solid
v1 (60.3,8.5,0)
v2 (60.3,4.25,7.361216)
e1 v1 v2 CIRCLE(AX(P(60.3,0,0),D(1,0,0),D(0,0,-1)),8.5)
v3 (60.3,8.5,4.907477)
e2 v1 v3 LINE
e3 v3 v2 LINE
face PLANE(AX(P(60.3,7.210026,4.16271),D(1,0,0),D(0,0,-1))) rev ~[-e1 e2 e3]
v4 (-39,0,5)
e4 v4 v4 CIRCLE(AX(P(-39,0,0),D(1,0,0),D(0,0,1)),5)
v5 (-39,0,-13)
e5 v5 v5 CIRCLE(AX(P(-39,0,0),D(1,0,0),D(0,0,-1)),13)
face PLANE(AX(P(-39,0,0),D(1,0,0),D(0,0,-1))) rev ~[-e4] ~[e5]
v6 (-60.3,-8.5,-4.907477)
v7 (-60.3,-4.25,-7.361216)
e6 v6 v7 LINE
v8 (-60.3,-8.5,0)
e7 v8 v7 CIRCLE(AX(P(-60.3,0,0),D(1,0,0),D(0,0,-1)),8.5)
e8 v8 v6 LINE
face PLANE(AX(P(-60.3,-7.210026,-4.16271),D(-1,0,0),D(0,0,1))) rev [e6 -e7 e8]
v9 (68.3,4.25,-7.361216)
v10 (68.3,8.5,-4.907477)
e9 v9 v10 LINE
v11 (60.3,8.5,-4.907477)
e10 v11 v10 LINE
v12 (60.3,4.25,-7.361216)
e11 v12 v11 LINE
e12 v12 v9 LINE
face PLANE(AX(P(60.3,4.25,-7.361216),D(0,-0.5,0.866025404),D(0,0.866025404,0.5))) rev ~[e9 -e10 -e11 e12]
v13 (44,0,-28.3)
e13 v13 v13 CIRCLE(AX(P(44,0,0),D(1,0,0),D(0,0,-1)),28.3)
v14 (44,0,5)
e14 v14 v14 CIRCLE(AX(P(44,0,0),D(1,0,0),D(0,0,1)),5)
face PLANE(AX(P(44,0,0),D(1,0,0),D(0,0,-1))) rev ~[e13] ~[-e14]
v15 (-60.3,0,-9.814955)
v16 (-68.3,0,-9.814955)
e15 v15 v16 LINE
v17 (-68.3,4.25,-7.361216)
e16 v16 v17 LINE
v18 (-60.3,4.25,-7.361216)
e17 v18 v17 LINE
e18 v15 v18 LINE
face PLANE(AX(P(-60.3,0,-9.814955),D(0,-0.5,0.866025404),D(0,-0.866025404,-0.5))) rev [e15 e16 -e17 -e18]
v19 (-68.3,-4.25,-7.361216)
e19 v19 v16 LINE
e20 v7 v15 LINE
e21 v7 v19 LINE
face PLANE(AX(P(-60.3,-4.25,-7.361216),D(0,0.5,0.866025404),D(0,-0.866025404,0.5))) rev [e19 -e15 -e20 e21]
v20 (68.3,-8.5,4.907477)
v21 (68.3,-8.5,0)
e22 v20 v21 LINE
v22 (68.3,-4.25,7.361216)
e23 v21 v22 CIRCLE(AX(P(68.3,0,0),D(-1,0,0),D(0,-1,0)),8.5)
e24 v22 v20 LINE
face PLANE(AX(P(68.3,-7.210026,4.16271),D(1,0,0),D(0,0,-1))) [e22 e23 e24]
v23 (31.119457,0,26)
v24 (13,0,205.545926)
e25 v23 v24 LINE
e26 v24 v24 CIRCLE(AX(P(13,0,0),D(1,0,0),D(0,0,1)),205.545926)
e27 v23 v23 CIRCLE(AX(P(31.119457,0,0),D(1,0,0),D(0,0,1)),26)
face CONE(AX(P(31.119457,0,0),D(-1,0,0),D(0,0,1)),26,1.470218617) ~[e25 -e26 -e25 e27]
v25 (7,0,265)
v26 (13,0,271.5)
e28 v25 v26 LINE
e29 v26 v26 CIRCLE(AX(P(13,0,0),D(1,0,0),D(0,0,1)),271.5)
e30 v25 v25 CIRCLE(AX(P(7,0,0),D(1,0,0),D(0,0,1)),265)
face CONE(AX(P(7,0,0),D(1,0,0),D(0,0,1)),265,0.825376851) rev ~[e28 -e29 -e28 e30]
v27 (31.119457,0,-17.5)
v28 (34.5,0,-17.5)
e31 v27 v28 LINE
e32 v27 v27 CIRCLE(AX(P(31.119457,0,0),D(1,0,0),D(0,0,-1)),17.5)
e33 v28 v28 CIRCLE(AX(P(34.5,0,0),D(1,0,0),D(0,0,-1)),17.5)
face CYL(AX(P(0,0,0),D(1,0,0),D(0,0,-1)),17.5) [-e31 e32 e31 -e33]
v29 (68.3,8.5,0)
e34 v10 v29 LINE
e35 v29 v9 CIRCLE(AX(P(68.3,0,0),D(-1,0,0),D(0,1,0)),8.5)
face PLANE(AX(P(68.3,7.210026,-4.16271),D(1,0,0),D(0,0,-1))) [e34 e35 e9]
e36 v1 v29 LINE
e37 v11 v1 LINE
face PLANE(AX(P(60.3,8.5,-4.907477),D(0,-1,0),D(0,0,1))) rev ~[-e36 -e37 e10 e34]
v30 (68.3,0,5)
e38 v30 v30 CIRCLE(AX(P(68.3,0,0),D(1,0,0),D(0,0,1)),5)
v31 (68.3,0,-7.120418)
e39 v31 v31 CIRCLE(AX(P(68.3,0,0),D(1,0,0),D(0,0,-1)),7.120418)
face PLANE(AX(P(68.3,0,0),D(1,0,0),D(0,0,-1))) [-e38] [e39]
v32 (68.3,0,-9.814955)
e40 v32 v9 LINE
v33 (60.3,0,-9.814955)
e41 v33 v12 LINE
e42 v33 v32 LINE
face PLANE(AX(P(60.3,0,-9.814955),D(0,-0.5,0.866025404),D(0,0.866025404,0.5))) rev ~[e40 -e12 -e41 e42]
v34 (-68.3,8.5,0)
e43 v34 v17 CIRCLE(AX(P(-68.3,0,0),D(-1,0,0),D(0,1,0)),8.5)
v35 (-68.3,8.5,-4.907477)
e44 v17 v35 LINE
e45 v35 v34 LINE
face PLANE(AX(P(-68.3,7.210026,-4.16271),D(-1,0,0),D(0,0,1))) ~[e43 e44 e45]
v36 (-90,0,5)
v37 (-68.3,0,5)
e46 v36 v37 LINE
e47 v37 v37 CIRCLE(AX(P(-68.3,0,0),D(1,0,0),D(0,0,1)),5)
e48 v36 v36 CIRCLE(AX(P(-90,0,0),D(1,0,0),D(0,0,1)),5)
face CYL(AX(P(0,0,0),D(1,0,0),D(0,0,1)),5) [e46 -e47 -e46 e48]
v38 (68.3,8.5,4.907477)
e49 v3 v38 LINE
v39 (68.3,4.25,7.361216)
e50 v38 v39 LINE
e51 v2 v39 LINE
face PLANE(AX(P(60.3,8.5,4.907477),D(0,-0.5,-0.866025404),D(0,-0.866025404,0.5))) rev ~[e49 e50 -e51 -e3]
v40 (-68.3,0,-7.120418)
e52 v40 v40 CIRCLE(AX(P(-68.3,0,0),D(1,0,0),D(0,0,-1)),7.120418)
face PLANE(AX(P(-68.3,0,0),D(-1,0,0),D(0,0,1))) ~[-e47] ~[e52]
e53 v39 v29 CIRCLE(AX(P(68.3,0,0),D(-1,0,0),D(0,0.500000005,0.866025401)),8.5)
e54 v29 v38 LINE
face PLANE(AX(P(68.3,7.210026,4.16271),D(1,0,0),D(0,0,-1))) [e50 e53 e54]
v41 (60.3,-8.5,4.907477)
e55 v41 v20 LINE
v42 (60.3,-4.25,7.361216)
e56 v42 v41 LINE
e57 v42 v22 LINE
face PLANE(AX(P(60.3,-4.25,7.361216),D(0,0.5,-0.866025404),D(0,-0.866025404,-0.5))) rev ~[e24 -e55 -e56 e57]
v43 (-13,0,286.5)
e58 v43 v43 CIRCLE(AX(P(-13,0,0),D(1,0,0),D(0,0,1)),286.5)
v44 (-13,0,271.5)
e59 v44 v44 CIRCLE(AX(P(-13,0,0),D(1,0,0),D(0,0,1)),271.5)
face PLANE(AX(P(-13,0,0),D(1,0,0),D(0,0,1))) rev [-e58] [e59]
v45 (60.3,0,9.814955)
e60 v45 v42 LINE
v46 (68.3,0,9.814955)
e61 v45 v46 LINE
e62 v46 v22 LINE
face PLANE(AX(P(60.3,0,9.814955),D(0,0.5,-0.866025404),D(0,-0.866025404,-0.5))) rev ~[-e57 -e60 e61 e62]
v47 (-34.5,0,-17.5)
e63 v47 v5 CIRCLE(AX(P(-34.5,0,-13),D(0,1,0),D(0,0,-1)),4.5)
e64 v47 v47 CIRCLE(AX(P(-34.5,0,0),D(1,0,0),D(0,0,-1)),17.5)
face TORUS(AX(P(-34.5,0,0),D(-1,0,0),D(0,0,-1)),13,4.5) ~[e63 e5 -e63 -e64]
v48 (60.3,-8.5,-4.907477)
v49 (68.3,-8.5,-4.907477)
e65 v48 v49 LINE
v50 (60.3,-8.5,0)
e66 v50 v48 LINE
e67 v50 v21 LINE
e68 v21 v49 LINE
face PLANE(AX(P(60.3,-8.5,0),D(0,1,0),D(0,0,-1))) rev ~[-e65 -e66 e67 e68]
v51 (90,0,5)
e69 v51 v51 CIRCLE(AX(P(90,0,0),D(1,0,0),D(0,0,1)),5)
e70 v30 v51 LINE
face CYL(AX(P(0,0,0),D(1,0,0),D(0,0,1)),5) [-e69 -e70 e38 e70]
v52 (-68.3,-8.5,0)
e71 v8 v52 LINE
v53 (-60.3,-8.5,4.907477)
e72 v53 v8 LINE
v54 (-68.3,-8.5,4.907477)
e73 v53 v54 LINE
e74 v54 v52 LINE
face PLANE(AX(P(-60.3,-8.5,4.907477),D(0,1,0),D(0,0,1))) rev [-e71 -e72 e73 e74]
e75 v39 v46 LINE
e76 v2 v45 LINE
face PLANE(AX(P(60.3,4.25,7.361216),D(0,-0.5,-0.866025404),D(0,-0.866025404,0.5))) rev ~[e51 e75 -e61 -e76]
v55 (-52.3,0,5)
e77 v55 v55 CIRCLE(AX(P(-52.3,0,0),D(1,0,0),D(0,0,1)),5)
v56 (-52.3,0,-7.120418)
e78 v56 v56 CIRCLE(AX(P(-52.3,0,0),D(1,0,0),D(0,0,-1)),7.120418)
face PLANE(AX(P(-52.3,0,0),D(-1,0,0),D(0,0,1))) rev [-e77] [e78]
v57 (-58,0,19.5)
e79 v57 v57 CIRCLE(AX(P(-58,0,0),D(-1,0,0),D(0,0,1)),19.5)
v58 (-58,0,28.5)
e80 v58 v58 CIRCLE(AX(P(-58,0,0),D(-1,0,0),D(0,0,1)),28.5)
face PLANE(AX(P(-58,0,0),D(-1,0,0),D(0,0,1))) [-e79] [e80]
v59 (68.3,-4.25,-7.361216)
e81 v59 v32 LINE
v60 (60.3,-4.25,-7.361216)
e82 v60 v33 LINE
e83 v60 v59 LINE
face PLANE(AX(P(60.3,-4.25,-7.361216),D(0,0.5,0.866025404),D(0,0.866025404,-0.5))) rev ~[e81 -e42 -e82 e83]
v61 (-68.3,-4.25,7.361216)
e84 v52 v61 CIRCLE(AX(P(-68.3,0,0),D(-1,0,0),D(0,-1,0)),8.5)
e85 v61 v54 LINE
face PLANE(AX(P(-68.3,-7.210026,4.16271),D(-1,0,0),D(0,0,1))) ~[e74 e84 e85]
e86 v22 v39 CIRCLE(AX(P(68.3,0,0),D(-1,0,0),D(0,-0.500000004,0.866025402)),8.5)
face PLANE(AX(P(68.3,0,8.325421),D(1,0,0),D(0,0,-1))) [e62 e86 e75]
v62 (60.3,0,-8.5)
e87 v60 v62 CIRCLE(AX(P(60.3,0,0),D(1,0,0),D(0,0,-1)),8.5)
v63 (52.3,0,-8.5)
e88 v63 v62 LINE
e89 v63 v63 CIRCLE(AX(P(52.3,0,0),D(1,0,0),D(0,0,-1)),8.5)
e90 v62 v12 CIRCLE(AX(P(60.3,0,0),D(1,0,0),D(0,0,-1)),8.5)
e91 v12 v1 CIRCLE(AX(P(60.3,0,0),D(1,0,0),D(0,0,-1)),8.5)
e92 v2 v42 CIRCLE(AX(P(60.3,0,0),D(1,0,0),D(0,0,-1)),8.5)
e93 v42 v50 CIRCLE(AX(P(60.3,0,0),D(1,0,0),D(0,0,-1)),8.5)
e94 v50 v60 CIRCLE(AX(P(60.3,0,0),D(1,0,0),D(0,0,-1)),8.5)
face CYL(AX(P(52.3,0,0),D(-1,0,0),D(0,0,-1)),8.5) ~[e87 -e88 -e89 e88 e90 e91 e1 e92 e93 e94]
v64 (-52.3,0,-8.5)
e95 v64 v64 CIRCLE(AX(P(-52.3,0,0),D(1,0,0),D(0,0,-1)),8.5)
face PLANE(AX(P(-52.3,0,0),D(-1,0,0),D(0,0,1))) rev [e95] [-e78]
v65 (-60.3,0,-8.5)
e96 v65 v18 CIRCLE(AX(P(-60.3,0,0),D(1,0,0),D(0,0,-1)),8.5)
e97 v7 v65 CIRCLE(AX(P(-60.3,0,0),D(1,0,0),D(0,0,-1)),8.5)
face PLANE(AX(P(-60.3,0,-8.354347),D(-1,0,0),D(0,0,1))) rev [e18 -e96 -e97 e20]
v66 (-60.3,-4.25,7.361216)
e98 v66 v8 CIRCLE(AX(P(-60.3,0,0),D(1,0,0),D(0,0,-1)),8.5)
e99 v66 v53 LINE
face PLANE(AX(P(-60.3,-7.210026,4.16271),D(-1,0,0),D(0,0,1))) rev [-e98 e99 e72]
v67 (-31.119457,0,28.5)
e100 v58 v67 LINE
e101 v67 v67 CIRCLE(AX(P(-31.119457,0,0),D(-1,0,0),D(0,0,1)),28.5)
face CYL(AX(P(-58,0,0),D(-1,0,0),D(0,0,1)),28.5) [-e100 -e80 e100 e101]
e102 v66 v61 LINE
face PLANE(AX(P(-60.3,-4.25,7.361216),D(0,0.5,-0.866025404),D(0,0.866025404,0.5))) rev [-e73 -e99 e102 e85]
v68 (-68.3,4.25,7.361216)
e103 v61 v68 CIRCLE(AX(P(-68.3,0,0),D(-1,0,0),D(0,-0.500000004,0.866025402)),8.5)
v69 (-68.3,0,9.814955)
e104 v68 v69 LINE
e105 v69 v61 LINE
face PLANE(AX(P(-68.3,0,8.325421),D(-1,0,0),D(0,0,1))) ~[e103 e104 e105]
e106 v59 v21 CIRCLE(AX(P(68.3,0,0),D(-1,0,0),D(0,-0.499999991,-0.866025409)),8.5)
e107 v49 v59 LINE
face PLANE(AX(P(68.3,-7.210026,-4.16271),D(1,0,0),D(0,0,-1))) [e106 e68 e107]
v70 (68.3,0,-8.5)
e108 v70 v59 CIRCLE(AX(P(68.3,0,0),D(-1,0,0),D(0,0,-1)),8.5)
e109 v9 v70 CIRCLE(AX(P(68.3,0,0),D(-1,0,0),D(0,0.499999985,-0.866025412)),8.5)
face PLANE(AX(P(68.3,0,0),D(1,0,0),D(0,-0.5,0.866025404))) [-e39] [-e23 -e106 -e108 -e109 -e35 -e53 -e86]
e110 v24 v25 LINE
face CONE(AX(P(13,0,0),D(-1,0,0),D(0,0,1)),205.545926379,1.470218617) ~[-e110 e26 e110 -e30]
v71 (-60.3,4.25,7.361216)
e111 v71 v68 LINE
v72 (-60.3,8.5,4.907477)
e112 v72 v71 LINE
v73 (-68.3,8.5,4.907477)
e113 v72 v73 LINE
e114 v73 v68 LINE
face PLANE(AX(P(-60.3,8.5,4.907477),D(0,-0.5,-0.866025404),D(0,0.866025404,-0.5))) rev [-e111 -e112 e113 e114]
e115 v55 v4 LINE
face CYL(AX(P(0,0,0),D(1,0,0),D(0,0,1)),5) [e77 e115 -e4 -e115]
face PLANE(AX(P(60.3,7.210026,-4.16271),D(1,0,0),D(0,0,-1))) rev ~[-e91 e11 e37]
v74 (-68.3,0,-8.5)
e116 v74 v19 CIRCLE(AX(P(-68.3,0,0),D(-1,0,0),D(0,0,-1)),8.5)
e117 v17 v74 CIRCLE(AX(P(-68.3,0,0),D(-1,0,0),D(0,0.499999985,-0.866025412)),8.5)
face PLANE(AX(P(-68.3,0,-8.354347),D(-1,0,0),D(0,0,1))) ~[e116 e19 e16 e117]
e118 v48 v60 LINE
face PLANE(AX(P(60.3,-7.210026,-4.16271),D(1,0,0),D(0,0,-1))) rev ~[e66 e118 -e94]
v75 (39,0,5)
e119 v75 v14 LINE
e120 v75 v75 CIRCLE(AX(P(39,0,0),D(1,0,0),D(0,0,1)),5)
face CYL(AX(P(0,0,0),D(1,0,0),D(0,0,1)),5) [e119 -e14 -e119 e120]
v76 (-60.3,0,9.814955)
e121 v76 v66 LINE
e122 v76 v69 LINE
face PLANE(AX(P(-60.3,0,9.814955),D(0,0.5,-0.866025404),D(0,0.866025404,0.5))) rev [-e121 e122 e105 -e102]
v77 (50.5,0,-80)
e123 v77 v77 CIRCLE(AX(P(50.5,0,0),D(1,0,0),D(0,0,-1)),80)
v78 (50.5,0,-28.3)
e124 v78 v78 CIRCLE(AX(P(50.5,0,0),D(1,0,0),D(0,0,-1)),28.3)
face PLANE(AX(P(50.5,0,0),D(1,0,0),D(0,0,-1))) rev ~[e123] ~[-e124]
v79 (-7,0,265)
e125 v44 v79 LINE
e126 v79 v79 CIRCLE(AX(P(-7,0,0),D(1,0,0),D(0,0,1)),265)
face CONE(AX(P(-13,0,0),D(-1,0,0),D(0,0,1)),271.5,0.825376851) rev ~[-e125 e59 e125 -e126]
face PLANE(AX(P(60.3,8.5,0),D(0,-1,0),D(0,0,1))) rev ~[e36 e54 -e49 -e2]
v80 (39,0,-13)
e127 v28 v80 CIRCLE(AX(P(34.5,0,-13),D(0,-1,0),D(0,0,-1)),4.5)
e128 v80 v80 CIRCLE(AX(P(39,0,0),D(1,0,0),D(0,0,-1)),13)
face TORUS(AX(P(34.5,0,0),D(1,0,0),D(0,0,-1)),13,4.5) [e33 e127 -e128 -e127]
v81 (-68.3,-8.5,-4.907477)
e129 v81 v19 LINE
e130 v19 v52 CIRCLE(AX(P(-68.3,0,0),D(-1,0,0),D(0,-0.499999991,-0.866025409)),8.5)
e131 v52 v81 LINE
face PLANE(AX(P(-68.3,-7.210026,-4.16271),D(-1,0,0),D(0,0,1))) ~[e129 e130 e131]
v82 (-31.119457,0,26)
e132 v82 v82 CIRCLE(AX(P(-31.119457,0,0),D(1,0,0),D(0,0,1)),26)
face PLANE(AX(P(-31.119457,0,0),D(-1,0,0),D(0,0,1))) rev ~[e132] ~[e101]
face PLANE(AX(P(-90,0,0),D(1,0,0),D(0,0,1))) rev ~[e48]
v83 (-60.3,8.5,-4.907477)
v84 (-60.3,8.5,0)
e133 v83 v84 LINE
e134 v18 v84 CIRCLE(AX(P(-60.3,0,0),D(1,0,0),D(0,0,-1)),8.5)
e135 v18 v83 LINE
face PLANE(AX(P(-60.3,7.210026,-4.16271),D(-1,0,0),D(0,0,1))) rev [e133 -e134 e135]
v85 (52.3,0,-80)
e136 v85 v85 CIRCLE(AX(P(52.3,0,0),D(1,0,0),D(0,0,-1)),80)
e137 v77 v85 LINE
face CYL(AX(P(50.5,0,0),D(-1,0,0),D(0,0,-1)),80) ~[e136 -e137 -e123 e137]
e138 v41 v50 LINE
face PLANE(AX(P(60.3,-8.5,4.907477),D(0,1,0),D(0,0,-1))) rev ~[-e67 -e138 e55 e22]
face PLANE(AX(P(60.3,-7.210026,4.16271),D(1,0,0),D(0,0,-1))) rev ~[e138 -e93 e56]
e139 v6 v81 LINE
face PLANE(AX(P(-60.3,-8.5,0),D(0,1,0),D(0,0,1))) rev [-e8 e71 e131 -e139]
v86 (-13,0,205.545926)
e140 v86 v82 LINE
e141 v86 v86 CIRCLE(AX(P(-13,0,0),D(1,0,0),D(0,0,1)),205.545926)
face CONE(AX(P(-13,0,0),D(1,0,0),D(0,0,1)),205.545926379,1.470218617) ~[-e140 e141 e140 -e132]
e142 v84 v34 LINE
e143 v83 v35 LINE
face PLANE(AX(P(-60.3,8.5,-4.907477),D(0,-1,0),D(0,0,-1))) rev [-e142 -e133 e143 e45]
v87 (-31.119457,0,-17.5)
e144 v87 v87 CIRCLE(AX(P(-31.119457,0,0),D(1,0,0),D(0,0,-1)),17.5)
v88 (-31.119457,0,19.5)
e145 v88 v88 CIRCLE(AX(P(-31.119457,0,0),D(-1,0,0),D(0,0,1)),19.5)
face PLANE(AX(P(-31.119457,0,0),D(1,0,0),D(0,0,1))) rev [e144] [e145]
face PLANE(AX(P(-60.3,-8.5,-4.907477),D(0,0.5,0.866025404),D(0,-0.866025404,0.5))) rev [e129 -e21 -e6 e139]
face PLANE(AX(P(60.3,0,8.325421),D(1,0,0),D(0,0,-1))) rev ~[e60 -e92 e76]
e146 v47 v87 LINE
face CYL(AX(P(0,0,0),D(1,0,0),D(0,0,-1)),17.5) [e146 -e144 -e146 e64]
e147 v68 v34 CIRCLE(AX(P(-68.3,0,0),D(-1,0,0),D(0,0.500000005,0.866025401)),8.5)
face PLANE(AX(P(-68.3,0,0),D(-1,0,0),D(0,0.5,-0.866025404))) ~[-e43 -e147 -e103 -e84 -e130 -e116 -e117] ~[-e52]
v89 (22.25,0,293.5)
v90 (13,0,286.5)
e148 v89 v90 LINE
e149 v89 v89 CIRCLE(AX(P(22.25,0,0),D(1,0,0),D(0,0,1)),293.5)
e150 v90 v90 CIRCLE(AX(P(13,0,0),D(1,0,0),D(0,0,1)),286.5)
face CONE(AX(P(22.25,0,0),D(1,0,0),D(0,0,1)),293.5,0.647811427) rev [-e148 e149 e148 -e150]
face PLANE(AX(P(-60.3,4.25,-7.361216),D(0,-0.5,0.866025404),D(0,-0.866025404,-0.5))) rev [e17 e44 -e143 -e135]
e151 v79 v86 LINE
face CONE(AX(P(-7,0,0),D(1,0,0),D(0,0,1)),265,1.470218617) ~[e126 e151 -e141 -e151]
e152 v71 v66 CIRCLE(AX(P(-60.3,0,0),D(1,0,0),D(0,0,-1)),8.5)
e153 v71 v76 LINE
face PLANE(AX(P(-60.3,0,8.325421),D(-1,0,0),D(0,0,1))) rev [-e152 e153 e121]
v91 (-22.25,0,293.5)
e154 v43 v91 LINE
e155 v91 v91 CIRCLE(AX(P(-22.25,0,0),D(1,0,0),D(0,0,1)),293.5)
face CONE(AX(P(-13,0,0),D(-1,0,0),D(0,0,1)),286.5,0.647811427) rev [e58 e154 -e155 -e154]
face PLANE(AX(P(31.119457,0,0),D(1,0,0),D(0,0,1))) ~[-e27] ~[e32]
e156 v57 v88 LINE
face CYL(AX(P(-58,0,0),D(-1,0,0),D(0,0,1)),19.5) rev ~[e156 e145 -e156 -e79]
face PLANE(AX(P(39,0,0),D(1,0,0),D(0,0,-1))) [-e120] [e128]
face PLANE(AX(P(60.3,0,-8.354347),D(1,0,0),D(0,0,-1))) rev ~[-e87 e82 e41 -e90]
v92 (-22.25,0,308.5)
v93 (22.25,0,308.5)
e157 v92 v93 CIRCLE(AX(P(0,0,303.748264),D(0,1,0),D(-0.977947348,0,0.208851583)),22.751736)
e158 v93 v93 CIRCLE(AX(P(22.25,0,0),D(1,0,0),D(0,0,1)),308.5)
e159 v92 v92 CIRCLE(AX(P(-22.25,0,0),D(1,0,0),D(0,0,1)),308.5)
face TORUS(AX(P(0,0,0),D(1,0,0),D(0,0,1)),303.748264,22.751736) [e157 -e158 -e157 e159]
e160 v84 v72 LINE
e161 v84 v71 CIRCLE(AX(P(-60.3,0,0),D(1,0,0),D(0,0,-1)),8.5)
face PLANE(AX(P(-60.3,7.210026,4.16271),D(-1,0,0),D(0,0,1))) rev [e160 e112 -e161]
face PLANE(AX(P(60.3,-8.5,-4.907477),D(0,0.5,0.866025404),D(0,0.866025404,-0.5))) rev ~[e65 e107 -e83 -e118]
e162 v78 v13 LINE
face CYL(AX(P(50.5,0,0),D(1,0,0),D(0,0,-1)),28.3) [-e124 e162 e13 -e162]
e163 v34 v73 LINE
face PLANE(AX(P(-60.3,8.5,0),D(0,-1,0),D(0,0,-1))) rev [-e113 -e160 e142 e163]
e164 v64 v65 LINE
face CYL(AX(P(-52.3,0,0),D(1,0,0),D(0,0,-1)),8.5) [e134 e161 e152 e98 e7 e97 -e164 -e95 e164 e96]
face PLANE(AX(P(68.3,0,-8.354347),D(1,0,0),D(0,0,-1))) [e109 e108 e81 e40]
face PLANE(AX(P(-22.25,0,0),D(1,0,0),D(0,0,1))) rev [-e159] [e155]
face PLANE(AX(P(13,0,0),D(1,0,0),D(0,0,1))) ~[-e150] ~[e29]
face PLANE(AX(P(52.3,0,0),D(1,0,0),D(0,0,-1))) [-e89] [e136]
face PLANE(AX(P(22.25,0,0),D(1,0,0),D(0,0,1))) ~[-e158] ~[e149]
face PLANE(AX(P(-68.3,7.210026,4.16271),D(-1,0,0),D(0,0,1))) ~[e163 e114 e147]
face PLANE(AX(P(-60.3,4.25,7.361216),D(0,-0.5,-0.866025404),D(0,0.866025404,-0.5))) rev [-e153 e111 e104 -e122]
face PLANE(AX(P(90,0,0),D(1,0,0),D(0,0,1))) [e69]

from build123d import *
from build123d.topology import SkipClean

# Parameters (mm, degrees)
SKETCH1_R           = 17.5
BOSS_EXTRUDE1_DEPTH = 39
FILLET1_R           = 4.5
SKETCH2_R           = 5
BOSS_EXTRUDE2_DEPTH = 90
SKETCH6_W           = 6
SKETCH6_H           = 26
SKETCH6_W_2         = 14
SKETCH6_W_3         = 18.119457468
SKETCH6_H_2         = 239
SKETCH6_W_4         = 26
SKETCH6_H_3         = 15
SKETCH7_W           = 44.5
SKETCH7_H           = 15
SKETCH8_R           = 28.3
BOSS_EXTRUDE5_DEPTH = 6.5
SKETCH9_R           = 80
BOSS_EXTRUDE6_DEPTH = 1.8
BOSS_EXTRUDE7_START = 13.3
SKETCH10_R          = 8.5
SKETCH10_R_2        = 7.120417841
SKETCH10_R_3        = 5
BOSS_EXTRUDE7_DEPTH = 8
BOSS_EXTRUDE8_START = 21.3
SKETCH10_3_R        = 8.5
SKETCH10_3_R_2      = 7.120417841
SKETCH10_3_R_3      = 5
BOSS_EXTRUDE8_DEPTH = 8
SKETCH14_R          = 28.5
SKETCH14_R_2        = 19.5
BOSS_EXTRUDE9_DEPTH = 26.880542532


with BuildPart() as part:
    # Sketch1 → Boss-Extrude1 (new, symmetric)
    with BuildSketch(Plane(origin=(0, 0, 0), x_dir=(0, 0, -1), z_dir=(1, 0, 0))):
        Circle(SKETCH1_R)
    extrude(amount=BOSS_EXTRUDE1_DEPTH, both=True)

    # Fillet1
    fillet1_edges = [part.edges().sort_by_distance(p)[0] for p in [
        (-39, 0, 17.5),
        (39, 0, 17.5),
    ]]
    fillet(fillet1_edges, radius=FILLET1_R)

    # Sketch2 → Boss-Extrude2 (add, symmetric)
    with BuildSketch(Plane(origin=(0, 0, 0), x_dir=(0, 0, -1), z_dir=(1, 0, 0))):
        with Locations(Location((0, 0, 0), (0, 0, 180))):
            Circle(SKETCH2_R)
    extrude(amount=BOSS_EXTRUDE2_DEPTH, both=True)

    # Sketch6 → Revolve1 (revolve)
    with SkipClean():  # the faces are left unmerged after this step: merging them gives an invalid solid
        with BuildSketch(Plane.XY, mode=Mode.PRIVATE) as revolve1_sk:
            with Locations((-10, 13)):
                Rectangle(SKETCH6_W, SKETCH6_H)
            with Locations((0, 13)):
                Rectangle(SKETCH6_W_2, SKETCH6_H)
            with Locations((10, 13)):
                Rectangle(SKETCH6_W, SKETCH6_H)
            with Locations((-22.059728734, 13)):
                Rectangle(SKETCH6_W_3, SKETCH6_H)
            with Locations((22.059728734, 13)):
                Rectangle(SKETCH6_W_3, SKETCH6_H)
            Polygon((13, 205.545926379), (13, 26), (31.119457468, 26), align=None)
            Polygon((7, 265), (7, 26), (13, 26), (13, 205.545926379), align=None)
            with Locations((0, 145.5)):
                Rectangle(SKETCH6_W_2, SKETCH6_H_2)
            Polygon((-13, 205.545926379), (-13, 26), (-7, 26), (-7, 265), align=None)
            Polygon((-13, 205.545926379), (-31.119457468, 26), (-13, 26), align=None)
            Polygon((-7, 265), (7, 265), (13, 271.5), (-13, 271.5), align=None)
            with Locations((0, 279)):
                Rectangle(SKETCH6_W_4, SKETCH6_H_3)
        revolve(revolve1_sk.sketch.rotate(Axis((-31.119457468, 0, 0), (1, 0, 0)), 90), axis=Axis((-31.119457468, 0, 0), (1, 0, 0)))

    # Sketch7 → Revolve2 (revolve)
    with SkipClean():  # the faces are left unmerged after this step: merging them gives an invalid solid
        with BuildSketch(Plane.XY, mode=Mode.PRIVATE) as revolve2_sk:
            Polygon((22.25, 293.5), (13, 286.5), (-13, 286.5), (-22.25, 293.5), align=None)
            with Locations((0, 301)):
                Rectangle(SKETCH7_W, SKETCH7_H)
            with BuildLine():
                ThreePointArc((-22.25, 308.5), (0, 326.5), (22.25, 308.5))
                Line((22.25, 308.5), (-22.25, 308.5))
            make_face()
        revolve(revolve2_sk.sketch.rotate(Axis((-31.119457468, 0, 0), (1, 0, 0)), 90), axis=Axis((-31.119457468, 0, 0), (1, 0, 0)))

    # Sketch8 → Boss-Extrude5 (add)
    with SkipClean():  # the faces are left unmerged after this step: merging them gives an invalid solid
        with BuildSketch(Plane(origin=(50.5, 0, 0), x_dir=(0, 0, -1), z_dir=(1, 0, 0))):
            Circle(SKETCH8_R)
        extrude(amount=-BOSS_EXTRUDE5_DEPTH)

    # Sketch9 → Boss-Extrude6 (add)
    with SkipClean():  # the faces are left unmerged after this step: merging them gives an invalid solid
        with BuildSketch(Plane(origin=(50.5, 0, 0), x_dir=(0, 0, -1), z_dir=(1, 0, 0))):
            Circle(SKETCH9_R)
        extrude(amount=BOSS_EXTRUDE6_DEPTH)

    # Sketch10 → Boss-Extrude7 (add)
    with SkipClean():  # the faces are left unmerged after this step: merging them gives an invalid solid
        with BuildSketch(Plane(origin=(39, 0, 0), x_dir=(0, 0, -1), z_dir=(1, 0, 0)).offset(BOSS_EXTRUDE7_START)):
            Circle(SKETCH10_R)
            Circle(SKETCH10_R_2, mode=Mode.SUBTRACT)
            Circle(SKETCH10_R_2)
            with Locations(Location((0, 0, 0), (0, 0, 180))):
                Circle(SKETCH10_R_3, mode=Mode.SUBTRACT)
        boss_extrude7 = extrude(amount=BOSS_EXTRUDE7_DEPTH)

    # Sketch10_3 → Boss-Extrude8 (add)
    with SkipClean():  # the faces are left unmerged after this step: merging them gives an invalid solid
        with BuildSketch(Plane(origin=(39, 0, 0), x_dir=(0, 0, -1), z_dir=(1, 0, 0)).offset(BOSS_EXTRUDE8_START)):
            with BuildLine():
                ThreePointArc((-7.361215909, 4.25000004), (-4.24999998, 7.361215944), (0, 8.5))
                Line((0, 8.5), (-4.907477288, 8.5))
                Line((-4.907477288, 8.5), (-7.361215909, 4.25000004))
            make_face()
            with BuildLine():
                ThreePointArc((0, 8.5), (4.250000062, 7.361215896), (7.361216004, 4.249999875))
                Line((7.361216004, 4.249999875), (4.907477288, 8.5))
                Line((4.907477288, 8.5), (0, 8.5))
            make_face()
            with BuildLine():
                ThreePointArc((-7.361215915, -4.250000029), (-8.5, 6e-09), (-7.361215909, 4.25000004))
                Line((-7.361215909, 4.25000004), (-9.814954576, 0))
                Line((-9.814954576, 0), (-7.361215915, -4.250000029))
            make_face()
            with BuildLine():
                Line((-4.907477288, -8.5), (0, -8.5))
                ThreePointArc((0, -8.5), (-4.249999985, -7.361215941), (-7.361215915, -4.250000029))
                Line((-7.361215915, -4.250000029), (-4.907477288, -8.5))
            make_face()
            with BuildLine():
                Line((4.907477288, -8.5), (7.36121598, -4.249999918))
                ThreePointArc((7.36121598, -4.249999918), (4.250000041, -7.361215908), (0, -8.5))
                Line((0, -8.5), (4.907477288, -8.5))
            make_face()
            with BuildLine():
                Line((7.36121598, -4.249999918), (9.814954576, 0))
                Line((9.814954576, 0), (7.361216004, 4.249999875))
                ThreePointArc((7.361216004, 4.249999875), (8.210369542, 2.199961814), (8.5, 0))
                ThreePointArc((8.5, 0), (8.210369536, -2.199961837), (7.36121598, -4.249999918))
            make_face()
            with Locations(Location((0, 0, 0), (0, 0, 210))):
                Circle(SKETCH10_3_R)
            Circle(SKETCH10_3_R_2, mode=Mode.SUBTRACT)
            Circle(SKETCH10_3_R_2)
            with Locations(Location((0, 0, 0), (0, 0, 180))):
                Circle(SKETCH10_3_R_3, mode=Mode.SUBTRACT)
        boss_extrude8 = extrude(amount=BOSS_EXTRUDE8_DEPTH)

    # Mirror2: Boss-Extrude7, Boss-Extrude8 across plane
    with SkipClean():  # the faces are left unmerged after this step: merging them gives an invalid solid
        add(boss_extrude7.mirror(Plane(origin=(0, 0, 0), x_dir=(0, 0, 1), z_dir=(1, 0, 0))))
        add(boss_extrude8.mirror(Plane(origin=(0, 0, 0), x_dir=(0, 0, 1), z_dir=(1, 0, 0))))

    # Sketch14 → Boss-Extrude9 (add)
    with SkipClean():  # the faces are left unmerged after this step: merging them gives an invalid solid
        with BuildSketch(Plane.ZY.offset(58)):
            Circle(SKETCH14_R)
            Circle(SKETCH14_R_2, mode=Mode.SUBTRACT)
        extrude(amount=-BOSS_EXTRUDE9_DEPTH)


solid = part.part
